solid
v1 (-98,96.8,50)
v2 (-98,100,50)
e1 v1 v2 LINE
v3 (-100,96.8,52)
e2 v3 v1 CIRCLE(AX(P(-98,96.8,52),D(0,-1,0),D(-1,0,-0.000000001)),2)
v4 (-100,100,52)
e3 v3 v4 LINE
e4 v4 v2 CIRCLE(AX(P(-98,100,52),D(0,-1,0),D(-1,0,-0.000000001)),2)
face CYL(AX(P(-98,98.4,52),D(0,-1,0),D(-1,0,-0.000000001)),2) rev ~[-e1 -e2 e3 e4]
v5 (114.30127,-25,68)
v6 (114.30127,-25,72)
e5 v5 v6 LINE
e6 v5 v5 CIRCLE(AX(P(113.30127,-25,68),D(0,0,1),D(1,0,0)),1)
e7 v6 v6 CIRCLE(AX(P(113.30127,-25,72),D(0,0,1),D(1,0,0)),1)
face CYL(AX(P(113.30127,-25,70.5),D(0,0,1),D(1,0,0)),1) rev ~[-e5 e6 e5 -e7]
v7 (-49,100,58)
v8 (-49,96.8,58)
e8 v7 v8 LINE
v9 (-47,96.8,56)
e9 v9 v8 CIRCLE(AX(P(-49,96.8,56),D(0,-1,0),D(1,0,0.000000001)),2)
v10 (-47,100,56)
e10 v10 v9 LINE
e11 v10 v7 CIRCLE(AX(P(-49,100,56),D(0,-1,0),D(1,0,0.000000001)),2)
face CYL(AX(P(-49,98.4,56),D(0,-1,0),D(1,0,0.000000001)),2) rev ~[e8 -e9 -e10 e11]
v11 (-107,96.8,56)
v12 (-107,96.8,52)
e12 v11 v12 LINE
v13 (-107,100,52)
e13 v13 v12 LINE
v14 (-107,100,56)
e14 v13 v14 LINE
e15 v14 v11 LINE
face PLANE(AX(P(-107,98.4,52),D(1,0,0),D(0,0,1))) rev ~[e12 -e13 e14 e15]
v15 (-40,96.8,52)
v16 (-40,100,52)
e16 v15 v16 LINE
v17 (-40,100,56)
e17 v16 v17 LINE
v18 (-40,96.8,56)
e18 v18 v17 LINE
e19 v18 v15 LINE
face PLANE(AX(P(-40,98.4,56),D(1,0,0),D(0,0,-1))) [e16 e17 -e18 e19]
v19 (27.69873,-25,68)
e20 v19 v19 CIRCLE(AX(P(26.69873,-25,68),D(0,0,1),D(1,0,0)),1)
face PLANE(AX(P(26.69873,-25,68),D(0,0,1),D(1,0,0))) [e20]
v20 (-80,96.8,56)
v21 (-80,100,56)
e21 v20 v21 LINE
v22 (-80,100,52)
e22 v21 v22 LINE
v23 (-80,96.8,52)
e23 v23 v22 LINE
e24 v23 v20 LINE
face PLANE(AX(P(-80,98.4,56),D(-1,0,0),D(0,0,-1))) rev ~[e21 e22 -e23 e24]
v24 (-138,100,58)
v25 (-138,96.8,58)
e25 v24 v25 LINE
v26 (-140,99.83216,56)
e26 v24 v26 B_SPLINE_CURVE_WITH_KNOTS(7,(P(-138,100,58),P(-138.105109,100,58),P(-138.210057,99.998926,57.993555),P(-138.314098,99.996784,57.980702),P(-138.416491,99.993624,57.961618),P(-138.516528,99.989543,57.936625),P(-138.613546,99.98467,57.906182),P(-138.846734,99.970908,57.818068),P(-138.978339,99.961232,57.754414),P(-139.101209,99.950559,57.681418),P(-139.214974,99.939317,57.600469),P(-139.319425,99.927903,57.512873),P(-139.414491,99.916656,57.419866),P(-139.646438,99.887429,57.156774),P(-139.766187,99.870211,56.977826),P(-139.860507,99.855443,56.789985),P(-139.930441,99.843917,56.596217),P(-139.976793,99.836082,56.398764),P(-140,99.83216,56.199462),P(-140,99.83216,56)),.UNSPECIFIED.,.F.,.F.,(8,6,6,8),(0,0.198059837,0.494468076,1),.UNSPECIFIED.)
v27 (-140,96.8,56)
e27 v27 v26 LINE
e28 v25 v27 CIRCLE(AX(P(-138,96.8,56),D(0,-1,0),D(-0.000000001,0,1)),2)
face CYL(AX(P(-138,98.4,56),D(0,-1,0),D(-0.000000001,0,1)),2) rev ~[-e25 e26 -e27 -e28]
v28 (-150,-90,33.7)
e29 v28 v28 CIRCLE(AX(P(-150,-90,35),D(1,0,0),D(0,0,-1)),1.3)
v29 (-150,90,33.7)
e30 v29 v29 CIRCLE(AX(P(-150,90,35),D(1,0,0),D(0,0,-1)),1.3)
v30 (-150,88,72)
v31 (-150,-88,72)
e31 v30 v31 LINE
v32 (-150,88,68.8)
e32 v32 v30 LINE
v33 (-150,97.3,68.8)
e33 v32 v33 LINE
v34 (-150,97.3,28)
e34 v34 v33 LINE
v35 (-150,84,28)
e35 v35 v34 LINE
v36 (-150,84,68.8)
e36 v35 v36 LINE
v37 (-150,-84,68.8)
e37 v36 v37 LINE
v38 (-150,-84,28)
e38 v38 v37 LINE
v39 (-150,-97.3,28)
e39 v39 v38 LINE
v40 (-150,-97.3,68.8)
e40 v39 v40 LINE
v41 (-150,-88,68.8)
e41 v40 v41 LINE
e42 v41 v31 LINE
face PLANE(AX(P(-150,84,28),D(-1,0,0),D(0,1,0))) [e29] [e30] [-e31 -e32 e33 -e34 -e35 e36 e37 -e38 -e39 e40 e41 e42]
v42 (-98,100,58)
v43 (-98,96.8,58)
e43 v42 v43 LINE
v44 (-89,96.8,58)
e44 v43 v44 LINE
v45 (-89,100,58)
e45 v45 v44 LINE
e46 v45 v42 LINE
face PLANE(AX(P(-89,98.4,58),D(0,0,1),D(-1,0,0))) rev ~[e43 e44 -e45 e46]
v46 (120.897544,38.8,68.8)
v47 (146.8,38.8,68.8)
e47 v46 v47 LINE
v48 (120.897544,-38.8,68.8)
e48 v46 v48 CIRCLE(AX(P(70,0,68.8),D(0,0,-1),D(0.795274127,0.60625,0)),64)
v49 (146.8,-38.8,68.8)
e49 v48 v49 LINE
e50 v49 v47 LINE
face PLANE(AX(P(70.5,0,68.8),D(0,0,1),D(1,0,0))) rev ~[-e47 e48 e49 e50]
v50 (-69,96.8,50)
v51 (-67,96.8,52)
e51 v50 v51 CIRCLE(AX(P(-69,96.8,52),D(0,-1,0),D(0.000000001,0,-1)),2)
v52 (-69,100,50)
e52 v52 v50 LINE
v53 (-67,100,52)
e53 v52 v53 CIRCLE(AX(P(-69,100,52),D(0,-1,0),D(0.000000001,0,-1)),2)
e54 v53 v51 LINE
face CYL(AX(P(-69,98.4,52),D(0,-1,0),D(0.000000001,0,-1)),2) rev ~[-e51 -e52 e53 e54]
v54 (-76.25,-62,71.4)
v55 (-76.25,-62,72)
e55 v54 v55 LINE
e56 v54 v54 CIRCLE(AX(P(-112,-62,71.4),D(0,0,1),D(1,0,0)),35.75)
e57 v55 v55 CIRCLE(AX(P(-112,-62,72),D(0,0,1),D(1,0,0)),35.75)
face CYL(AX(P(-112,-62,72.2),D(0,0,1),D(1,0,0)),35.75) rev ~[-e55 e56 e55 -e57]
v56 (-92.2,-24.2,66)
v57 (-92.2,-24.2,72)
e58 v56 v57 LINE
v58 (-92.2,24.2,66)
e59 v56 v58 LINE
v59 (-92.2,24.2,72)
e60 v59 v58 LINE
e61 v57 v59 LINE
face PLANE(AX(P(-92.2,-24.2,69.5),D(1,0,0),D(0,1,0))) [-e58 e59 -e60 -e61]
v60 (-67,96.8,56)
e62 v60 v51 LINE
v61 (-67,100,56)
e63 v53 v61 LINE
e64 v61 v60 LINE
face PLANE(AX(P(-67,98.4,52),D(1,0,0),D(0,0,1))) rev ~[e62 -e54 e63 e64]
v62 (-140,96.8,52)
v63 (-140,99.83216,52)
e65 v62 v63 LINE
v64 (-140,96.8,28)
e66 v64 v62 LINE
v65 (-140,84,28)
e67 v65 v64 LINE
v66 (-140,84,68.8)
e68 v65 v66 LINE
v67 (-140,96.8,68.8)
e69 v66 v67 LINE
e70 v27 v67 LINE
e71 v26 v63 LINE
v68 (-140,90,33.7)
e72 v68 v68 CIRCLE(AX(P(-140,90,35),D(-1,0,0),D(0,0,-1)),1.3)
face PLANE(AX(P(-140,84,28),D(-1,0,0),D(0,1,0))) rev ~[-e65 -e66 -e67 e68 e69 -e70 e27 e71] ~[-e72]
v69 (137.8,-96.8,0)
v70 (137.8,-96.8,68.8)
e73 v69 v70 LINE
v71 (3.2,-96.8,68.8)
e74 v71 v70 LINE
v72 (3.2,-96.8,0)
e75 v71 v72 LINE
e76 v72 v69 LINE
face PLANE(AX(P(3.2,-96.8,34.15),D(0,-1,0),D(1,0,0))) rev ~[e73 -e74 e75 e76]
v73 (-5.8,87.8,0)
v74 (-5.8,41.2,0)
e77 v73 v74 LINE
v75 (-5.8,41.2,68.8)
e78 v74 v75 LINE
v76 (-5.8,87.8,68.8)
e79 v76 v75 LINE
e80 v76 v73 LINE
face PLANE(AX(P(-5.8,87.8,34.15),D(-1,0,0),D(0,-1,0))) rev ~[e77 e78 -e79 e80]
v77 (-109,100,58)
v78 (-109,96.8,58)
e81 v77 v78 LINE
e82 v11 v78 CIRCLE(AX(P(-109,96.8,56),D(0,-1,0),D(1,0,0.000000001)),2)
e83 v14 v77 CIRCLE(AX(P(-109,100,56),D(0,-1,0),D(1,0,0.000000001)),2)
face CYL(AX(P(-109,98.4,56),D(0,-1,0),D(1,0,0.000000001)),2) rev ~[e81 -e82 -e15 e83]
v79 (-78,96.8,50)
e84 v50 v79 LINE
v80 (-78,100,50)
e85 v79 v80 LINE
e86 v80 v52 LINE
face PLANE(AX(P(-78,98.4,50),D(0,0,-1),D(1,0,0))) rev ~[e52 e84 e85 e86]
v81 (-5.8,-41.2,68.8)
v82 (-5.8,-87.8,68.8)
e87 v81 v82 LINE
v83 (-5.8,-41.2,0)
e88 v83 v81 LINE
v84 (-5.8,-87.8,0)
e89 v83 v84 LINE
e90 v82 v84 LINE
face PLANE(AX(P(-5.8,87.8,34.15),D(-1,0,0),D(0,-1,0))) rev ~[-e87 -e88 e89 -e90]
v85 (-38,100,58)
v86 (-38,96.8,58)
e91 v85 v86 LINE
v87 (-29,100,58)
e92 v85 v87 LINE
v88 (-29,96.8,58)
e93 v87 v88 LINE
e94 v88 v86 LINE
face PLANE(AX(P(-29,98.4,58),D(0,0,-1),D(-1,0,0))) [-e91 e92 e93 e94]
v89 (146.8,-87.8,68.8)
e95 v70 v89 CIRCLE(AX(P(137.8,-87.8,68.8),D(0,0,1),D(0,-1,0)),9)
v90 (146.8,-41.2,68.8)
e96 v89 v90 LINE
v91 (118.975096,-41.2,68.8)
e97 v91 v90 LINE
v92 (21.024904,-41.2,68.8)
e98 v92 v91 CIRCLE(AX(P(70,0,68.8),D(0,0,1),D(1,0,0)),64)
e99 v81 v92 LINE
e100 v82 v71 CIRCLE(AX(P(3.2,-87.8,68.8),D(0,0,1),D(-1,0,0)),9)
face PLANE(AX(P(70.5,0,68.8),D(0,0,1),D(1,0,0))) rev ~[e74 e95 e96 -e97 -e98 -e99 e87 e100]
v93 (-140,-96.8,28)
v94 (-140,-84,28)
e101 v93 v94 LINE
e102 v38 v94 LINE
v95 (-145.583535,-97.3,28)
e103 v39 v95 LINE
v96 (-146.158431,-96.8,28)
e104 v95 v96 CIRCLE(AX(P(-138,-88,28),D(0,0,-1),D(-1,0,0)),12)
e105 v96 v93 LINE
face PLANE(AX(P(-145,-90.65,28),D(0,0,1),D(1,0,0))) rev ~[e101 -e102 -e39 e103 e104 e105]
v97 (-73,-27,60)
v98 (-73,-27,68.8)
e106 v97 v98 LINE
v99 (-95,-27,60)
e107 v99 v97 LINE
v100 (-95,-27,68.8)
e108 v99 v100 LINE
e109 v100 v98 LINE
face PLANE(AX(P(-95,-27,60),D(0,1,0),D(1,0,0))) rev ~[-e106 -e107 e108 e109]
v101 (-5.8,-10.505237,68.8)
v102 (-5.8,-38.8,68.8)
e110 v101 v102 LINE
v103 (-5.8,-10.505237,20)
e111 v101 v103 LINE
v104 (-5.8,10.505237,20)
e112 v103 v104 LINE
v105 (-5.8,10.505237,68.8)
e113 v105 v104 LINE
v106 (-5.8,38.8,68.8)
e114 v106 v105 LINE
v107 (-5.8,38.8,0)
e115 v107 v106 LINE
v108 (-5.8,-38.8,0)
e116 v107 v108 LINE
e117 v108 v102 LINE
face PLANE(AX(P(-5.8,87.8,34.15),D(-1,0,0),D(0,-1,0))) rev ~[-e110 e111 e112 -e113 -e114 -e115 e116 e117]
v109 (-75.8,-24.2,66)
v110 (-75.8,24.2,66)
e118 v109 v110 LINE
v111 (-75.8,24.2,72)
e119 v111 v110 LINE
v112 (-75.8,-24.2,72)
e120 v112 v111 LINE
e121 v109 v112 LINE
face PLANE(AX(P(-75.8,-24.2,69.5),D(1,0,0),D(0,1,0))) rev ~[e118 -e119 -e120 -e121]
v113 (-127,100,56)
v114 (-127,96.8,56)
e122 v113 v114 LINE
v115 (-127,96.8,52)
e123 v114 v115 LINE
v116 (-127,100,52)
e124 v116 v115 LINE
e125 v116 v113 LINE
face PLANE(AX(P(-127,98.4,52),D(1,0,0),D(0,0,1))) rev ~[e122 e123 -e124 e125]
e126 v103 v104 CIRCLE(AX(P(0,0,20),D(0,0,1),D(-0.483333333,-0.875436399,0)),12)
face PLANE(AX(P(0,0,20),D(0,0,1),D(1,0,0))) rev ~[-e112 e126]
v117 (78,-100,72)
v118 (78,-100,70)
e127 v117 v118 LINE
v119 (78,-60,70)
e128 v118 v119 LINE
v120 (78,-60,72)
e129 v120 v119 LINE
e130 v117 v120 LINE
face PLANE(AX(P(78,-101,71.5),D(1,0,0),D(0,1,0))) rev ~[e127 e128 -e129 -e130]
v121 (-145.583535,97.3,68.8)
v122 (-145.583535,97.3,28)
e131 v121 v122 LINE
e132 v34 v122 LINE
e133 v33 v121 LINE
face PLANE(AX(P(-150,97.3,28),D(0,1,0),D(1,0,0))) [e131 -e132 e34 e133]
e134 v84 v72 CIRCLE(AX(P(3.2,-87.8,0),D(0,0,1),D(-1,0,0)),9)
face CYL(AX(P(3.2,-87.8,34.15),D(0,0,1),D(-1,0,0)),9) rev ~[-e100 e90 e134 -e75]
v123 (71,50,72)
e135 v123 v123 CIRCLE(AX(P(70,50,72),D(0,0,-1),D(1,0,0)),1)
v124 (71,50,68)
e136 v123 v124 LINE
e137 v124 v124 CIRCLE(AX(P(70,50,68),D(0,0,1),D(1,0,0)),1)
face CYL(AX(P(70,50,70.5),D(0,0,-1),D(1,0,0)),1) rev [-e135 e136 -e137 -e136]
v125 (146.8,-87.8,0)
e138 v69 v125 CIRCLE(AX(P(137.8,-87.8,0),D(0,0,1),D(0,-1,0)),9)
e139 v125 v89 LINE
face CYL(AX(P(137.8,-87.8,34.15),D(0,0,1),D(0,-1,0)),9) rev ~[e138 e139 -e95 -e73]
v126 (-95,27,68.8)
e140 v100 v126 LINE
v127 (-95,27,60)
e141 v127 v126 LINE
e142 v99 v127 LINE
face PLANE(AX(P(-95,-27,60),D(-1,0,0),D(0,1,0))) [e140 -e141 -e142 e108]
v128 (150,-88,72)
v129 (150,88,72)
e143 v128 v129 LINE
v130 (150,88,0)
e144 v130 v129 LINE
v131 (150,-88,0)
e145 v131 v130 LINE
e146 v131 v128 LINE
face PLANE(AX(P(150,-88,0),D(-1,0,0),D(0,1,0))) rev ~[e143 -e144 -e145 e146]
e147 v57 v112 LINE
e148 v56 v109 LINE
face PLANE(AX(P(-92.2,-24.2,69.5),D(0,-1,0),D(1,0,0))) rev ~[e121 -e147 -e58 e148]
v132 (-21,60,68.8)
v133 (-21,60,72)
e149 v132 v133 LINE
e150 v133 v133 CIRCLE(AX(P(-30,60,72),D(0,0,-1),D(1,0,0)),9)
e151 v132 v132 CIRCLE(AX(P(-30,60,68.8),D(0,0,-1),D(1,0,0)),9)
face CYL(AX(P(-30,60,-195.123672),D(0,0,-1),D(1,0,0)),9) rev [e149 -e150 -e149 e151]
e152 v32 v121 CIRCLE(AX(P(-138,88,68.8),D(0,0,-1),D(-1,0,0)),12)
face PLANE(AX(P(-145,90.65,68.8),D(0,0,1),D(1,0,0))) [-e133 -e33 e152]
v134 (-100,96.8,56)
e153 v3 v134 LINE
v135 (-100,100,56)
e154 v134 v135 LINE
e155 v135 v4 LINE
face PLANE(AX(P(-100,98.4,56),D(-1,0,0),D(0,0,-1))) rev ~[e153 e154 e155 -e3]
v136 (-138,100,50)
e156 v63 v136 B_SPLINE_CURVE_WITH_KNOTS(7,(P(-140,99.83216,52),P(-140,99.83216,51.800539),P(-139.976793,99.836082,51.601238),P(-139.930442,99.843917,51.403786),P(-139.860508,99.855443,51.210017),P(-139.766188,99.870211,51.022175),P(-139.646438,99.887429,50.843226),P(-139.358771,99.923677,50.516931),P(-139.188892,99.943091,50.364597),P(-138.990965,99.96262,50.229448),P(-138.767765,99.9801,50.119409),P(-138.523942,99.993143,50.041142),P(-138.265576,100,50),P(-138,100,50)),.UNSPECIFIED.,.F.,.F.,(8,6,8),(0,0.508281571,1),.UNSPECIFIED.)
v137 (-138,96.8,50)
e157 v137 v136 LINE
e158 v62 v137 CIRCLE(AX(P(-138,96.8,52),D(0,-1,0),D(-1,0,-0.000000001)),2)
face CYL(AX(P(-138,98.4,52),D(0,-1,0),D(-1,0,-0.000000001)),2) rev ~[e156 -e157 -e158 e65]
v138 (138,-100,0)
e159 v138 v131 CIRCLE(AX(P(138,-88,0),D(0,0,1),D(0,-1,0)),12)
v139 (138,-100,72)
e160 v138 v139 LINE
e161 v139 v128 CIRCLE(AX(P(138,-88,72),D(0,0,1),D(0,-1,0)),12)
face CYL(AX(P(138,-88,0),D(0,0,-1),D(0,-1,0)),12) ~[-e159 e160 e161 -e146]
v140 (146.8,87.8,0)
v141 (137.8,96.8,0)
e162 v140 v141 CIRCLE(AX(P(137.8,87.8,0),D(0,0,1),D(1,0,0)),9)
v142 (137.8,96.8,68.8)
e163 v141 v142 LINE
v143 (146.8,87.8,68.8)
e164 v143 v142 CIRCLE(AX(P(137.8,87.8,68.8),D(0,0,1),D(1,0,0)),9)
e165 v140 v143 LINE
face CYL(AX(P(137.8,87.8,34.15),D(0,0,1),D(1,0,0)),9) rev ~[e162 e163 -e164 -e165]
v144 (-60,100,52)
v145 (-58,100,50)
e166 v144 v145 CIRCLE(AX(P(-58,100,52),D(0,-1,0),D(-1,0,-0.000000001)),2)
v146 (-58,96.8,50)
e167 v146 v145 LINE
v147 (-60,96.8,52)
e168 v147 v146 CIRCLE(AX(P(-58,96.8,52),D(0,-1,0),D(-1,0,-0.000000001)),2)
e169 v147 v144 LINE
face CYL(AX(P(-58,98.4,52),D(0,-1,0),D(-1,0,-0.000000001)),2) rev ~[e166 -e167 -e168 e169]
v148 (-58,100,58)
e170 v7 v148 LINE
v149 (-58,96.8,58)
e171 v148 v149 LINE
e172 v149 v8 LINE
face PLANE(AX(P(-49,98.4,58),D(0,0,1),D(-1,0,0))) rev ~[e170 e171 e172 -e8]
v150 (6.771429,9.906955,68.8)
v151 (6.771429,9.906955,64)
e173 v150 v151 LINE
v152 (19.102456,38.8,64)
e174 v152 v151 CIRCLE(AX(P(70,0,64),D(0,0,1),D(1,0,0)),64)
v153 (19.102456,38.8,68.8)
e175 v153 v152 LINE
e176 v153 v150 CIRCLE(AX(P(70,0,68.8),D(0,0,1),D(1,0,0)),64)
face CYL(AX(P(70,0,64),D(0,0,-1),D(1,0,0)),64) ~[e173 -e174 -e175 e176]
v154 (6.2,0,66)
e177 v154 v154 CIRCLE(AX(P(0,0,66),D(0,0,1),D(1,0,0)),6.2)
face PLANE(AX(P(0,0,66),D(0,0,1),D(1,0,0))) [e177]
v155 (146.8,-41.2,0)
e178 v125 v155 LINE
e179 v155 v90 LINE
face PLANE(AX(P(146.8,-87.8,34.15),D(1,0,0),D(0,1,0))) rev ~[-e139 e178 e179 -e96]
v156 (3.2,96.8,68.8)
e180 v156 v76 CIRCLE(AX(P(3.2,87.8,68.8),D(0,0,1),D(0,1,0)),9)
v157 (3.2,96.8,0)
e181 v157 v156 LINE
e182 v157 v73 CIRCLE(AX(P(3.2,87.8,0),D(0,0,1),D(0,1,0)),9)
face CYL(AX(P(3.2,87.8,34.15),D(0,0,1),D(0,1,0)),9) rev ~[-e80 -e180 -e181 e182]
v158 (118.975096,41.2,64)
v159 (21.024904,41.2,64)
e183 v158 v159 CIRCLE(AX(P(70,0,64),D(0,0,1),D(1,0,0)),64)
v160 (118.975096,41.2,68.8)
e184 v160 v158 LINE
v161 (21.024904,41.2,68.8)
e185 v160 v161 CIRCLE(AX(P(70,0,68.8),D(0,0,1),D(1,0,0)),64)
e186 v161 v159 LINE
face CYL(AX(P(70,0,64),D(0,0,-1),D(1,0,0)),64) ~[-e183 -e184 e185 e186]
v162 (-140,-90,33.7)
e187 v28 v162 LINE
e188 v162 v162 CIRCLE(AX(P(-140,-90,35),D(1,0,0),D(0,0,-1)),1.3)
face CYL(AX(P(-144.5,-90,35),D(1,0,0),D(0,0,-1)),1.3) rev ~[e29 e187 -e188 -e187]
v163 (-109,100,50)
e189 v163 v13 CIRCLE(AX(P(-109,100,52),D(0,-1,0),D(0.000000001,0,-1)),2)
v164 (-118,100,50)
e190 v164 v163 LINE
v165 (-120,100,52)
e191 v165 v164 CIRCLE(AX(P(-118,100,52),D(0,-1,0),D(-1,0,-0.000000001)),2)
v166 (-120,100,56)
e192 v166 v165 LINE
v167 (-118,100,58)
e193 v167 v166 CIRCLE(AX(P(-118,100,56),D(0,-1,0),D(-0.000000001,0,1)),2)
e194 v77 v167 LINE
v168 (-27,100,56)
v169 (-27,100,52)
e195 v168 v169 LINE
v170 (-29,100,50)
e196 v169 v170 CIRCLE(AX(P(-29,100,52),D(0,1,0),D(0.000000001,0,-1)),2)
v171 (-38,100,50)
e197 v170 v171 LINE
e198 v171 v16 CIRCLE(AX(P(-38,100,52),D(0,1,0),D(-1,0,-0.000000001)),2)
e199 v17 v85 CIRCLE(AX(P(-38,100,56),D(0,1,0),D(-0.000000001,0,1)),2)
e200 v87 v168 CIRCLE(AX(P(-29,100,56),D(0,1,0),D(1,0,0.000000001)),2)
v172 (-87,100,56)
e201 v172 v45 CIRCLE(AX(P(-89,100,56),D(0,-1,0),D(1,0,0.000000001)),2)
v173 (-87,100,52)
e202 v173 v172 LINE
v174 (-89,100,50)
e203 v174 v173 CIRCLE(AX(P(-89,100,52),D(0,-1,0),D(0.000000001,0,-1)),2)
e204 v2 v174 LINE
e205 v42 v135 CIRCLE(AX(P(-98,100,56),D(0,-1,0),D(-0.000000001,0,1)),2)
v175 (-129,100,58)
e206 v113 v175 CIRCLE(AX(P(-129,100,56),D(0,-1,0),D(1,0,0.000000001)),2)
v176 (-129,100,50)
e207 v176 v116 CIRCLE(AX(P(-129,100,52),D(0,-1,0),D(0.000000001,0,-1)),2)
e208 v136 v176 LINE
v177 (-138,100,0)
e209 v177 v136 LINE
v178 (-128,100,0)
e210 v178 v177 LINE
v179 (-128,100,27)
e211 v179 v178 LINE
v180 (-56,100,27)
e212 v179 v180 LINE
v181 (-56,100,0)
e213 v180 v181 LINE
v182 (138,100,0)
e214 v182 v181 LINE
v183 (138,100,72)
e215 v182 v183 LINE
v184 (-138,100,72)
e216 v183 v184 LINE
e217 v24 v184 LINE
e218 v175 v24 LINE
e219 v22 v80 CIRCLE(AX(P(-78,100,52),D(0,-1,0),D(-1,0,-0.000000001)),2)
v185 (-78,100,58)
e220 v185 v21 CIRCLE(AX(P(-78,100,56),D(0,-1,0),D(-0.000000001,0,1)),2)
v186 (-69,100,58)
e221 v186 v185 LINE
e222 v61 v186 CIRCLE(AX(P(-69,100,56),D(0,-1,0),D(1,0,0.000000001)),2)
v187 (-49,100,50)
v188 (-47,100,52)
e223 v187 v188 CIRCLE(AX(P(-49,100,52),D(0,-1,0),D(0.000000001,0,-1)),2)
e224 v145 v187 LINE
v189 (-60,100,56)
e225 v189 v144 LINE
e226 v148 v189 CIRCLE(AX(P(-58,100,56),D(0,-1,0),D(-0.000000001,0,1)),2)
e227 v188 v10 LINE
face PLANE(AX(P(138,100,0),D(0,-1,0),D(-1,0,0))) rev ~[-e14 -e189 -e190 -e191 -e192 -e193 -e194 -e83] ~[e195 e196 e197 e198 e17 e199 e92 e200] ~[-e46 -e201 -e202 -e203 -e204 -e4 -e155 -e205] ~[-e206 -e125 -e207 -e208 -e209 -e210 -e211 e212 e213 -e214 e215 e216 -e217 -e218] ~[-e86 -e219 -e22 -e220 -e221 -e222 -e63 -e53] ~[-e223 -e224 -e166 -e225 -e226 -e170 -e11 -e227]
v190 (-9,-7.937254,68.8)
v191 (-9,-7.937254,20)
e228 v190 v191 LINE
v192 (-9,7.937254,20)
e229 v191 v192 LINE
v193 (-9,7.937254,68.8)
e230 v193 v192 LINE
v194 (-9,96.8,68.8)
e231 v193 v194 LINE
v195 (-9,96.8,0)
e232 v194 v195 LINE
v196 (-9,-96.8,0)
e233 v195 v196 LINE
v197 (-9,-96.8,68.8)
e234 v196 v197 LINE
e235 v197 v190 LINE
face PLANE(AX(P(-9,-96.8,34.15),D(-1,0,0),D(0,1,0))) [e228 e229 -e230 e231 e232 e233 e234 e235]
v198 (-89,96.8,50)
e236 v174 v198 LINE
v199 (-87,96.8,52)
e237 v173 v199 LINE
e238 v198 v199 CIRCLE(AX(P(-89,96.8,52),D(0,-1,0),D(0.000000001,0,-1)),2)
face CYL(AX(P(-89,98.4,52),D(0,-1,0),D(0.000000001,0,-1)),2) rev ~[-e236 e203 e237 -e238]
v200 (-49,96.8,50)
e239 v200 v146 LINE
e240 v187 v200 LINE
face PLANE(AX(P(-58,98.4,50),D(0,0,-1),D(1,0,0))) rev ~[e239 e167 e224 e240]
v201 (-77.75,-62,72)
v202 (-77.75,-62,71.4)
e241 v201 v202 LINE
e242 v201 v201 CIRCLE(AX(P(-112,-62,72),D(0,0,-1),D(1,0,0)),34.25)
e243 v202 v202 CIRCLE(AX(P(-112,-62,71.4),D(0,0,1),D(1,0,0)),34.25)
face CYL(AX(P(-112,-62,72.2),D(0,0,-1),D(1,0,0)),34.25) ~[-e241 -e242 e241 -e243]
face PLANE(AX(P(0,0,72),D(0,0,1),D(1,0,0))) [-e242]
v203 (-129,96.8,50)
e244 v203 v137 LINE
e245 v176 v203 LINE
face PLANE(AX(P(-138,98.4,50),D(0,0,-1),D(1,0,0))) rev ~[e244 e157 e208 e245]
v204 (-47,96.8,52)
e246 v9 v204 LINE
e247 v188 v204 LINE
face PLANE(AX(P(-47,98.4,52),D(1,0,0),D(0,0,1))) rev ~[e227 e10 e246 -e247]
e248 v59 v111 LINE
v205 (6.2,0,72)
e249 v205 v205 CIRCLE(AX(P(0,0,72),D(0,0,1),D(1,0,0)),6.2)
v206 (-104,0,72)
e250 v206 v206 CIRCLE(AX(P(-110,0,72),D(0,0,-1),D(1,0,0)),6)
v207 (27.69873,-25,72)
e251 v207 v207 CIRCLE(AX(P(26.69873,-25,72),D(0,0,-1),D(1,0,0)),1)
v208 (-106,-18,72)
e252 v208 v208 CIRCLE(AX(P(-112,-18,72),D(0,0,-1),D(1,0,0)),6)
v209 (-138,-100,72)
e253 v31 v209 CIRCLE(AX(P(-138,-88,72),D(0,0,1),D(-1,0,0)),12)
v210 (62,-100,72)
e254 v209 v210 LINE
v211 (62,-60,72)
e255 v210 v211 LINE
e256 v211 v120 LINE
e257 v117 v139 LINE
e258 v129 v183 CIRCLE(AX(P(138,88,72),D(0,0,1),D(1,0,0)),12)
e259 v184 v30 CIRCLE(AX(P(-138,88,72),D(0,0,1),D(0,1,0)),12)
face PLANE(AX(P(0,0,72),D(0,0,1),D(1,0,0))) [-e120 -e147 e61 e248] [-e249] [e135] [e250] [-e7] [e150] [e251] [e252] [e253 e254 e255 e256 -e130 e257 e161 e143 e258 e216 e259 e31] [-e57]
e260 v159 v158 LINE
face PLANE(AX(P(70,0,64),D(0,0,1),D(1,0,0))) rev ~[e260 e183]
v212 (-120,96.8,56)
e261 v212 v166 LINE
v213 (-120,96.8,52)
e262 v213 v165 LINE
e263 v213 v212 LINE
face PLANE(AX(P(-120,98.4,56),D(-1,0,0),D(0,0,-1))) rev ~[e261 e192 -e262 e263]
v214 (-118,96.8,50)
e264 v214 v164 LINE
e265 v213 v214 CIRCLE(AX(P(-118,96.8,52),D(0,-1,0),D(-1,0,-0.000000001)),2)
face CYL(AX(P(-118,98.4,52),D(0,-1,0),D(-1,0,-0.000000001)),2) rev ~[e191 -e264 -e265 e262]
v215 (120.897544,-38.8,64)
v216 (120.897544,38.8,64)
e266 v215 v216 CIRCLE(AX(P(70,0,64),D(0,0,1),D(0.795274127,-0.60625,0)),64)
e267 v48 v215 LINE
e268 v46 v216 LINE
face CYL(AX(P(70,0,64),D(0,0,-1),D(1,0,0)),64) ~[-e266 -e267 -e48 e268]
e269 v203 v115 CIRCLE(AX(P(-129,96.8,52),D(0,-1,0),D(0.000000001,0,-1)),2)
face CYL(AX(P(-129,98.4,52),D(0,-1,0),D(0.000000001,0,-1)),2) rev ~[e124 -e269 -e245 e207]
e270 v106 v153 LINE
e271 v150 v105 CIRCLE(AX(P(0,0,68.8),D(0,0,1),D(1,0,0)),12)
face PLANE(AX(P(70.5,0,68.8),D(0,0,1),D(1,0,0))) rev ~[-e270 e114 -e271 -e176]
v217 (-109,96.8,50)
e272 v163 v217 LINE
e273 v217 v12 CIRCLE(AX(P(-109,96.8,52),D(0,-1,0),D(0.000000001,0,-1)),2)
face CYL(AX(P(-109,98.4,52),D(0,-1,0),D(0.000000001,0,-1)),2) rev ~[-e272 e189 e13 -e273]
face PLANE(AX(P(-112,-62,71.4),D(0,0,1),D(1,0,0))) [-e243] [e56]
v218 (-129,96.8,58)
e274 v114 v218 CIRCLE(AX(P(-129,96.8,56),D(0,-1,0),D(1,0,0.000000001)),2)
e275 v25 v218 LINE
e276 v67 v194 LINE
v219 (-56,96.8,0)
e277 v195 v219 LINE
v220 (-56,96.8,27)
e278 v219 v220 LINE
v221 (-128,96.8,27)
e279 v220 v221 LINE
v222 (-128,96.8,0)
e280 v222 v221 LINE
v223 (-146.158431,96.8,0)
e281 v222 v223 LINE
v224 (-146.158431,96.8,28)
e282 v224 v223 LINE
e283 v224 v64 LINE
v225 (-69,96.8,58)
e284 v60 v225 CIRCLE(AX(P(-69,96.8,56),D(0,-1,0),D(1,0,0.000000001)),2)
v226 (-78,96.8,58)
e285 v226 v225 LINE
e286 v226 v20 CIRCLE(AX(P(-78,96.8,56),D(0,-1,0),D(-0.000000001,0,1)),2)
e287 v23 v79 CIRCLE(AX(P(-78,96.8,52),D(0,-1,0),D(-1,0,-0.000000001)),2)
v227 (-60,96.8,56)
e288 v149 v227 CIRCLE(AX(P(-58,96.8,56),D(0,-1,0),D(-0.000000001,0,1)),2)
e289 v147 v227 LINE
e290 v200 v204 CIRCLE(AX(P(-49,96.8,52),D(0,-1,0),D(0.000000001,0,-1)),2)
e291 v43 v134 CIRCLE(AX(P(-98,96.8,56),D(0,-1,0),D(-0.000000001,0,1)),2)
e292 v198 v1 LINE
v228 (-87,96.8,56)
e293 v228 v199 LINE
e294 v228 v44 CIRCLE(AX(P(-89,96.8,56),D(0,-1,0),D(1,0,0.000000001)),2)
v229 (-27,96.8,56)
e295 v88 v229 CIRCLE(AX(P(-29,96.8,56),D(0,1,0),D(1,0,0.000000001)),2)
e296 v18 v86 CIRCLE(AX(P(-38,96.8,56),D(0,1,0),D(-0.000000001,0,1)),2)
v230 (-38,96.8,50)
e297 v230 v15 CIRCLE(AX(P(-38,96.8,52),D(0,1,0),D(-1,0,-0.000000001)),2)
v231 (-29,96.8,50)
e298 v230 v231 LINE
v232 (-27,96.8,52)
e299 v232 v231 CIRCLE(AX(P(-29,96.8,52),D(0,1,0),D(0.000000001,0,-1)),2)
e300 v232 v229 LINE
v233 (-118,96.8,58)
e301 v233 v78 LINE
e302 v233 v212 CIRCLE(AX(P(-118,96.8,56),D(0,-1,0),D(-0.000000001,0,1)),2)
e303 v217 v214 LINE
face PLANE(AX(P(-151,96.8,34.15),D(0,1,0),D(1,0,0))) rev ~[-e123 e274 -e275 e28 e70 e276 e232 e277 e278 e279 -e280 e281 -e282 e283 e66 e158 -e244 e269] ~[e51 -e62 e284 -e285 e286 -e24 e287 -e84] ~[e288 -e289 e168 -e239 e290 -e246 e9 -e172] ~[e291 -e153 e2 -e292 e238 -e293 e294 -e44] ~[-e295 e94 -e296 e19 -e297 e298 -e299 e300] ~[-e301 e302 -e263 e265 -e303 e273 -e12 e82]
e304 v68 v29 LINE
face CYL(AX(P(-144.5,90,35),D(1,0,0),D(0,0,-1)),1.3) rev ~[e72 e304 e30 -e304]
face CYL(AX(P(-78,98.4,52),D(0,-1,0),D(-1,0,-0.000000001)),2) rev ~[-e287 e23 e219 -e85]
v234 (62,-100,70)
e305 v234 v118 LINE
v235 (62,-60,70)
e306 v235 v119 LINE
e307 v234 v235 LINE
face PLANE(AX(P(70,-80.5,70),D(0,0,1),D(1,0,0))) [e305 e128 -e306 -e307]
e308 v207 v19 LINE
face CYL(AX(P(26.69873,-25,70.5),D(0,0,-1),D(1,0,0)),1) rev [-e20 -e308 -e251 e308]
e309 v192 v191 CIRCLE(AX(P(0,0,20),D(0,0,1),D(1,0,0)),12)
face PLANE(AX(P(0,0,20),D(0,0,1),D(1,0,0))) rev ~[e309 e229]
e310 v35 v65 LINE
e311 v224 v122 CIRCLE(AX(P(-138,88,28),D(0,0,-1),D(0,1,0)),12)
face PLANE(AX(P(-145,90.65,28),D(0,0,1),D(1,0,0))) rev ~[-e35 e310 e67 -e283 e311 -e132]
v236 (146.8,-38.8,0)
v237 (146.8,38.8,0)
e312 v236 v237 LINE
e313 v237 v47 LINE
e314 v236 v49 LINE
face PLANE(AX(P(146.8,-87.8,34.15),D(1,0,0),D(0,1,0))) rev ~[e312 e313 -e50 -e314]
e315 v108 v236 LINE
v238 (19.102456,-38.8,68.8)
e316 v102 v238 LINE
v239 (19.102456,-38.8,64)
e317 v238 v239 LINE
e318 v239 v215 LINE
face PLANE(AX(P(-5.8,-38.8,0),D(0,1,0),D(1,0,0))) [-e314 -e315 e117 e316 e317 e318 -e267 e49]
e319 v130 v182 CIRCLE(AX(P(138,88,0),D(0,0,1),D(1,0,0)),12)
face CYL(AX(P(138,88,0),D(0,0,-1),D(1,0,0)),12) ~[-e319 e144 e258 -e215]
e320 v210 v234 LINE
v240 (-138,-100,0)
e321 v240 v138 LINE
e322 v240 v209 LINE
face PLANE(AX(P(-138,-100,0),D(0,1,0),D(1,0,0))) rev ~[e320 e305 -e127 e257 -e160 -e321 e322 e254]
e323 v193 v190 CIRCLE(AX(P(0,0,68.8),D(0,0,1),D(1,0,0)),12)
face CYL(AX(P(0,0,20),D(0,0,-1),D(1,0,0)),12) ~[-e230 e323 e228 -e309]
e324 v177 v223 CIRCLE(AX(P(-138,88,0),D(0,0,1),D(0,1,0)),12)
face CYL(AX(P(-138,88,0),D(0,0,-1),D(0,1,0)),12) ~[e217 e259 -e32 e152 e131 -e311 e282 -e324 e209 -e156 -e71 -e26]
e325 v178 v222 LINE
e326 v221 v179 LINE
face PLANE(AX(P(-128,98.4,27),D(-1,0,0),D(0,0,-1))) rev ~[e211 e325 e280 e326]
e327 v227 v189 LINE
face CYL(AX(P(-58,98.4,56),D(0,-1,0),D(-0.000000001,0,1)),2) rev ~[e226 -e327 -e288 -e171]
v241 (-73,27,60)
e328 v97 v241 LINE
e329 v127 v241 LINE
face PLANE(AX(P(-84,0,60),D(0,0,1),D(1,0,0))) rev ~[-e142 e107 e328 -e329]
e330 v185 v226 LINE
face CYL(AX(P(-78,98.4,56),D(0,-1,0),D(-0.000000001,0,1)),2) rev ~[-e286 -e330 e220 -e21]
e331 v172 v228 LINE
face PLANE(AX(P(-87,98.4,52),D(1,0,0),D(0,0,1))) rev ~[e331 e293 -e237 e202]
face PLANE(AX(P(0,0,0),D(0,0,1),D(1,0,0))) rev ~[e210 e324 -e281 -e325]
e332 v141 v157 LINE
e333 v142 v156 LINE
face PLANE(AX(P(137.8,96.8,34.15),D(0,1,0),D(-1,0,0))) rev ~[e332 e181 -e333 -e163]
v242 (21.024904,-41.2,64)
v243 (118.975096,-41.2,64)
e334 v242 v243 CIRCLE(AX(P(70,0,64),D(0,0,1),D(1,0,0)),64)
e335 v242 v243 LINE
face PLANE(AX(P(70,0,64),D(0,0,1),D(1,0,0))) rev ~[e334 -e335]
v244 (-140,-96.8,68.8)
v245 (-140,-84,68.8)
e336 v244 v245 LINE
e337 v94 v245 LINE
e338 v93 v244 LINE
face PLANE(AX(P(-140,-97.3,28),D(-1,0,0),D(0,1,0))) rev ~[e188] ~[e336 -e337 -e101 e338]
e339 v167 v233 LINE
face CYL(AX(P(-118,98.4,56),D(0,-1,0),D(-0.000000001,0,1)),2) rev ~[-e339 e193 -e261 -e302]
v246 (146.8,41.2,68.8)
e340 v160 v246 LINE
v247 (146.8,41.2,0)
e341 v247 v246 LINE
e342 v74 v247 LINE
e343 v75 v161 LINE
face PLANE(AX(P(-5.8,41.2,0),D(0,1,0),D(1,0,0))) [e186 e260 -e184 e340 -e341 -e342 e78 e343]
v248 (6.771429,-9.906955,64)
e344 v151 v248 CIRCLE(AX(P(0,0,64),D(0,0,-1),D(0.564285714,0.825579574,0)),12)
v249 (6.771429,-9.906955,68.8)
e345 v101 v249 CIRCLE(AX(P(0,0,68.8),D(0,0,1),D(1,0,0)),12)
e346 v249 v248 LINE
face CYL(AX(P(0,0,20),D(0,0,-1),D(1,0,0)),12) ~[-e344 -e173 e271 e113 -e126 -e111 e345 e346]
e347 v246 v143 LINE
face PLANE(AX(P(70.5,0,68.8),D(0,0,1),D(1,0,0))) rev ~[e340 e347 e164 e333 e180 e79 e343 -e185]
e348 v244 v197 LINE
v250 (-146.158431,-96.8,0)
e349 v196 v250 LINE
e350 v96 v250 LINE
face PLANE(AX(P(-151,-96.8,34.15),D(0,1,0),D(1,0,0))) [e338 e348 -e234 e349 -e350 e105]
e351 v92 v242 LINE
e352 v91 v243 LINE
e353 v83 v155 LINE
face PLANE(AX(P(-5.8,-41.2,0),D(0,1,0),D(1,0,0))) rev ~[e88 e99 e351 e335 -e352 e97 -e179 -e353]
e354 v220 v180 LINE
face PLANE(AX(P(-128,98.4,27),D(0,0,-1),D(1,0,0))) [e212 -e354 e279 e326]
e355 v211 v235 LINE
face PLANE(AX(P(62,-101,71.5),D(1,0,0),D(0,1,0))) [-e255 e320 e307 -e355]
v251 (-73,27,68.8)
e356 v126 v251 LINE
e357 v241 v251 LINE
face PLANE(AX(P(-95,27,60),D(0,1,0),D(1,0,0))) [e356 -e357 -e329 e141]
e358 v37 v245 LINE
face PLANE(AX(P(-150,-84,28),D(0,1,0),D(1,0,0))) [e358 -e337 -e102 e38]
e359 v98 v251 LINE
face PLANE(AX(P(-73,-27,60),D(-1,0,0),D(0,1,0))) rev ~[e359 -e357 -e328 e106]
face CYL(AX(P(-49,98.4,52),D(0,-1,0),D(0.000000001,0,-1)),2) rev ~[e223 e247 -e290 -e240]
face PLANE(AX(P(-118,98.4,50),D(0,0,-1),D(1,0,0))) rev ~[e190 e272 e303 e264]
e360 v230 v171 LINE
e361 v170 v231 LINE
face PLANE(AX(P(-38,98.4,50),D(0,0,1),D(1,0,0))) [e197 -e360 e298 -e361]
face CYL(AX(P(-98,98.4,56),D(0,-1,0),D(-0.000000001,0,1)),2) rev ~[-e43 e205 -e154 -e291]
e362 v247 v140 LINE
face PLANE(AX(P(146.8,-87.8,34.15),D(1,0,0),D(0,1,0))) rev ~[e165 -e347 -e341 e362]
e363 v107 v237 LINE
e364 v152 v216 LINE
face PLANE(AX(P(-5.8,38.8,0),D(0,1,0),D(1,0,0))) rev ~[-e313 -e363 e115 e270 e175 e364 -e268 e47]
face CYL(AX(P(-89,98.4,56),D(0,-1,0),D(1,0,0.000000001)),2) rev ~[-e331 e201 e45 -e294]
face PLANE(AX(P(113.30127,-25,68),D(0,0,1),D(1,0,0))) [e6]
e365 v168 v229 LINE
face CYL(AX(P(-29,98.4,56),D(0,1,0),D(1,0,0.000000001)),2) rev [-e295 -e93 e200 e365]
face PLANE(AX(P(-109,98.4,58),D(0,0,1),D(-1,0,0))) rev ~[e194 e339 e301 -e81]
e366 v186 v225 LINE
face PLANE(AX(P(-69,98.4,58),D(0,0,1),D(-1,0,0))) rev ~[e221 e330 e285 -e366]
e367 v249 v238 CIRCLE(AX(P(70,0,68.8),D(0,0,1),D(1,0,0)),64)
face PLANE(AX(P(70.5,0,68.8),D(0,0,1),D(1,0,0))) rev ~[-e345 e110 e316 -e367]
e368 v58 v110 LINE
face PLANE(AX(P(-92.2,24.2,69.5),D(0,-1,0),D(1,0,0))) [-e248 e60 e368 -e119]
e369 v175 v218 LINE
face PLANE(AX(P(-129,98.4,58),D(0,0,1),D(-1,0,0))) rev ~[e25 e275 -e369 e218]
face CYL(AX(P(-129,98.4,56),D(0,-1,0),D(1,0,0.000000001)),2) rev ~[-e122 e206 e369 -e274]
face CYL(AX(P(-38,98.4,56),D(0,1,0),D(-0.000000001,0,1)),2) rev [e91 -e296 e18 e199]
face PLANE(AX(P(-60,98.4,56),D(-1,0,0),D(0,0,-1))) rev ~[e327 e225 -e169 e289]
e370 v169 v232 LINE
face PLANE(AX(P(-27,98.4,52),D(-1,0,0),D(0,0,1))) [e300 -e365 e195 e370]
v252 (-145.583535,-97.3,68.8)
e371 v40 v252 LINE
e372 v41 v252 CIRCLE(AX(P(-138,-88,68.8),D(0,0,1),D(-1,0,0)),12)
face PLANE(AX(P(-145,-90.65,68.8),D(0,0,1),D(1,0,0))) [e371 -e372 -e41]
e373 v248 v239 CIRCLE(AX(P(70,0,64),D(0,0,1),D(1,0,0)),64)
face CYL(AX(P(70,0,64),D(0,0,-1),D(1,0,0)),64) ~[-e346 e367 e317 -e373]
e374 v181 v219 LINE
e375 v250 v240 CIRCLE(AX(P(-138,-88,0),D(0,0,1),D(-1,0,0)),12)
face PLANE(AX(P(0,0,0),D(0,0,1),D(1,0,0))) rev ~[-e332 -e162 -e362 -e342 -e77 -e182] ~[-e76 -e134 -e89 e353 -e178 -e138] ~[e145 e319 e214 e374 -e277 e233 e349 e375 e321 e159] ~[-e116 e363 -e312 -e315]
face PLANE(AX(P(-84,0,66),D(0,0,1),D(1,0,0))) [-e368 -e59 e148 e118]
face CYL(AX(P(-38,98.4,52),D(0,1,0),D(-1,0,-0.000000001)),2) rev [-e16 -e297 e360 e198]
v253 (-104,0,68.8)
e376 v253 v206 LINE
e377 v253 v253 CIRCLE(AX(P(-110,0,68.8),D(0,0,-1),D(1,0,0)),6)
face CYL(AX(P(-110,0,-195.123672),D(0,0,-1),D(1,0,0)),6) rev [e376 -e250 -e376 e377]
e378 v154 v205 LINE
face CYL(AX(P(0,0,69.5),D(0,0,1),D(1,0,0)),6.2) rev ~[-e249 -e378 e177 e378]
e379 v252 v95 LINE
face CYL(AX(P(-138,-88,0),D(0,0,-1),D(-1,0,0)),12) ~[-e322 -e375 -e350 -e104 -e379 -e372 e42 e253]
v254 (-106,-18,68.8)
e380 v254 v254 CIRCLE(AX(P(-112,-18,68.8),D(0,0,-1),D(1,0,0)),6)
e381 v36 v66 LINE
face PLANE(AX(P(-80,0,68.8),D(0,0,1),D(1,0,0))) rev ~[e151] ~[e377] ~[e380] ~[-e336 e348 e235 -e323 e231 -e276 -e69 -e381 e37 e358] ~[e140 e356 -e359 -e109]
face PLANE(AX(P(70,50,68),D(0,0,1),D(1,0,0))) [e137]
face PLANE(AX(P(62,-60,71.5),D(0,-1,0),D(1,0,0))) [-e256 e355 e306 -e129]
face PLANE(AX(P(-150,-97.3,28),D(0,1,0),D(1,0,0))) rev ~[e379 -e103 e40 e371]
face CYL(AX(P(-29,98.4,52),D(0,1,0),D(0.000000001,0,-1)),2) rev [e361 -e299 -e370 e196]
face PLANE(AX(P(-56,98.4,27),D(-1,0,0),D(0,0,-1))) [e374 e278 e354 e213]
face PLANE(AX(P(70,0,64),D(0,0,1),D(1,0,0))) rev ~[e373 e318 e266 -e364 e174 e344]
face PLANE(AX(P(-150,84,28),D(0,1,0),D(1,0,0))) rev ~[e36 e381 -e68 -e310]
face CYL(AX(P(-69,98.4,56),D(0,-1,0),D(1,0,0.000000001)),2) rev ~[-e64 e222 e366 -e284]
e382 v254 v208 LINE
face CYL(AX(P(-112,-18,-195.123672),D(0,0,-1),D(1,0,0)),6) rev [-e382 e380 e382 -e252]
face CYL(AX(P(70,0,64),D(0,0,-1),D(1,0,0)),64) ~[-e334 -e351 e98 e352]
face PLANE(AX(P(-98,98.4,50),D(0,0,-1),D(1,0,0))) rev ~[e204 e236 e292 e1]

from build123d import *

# Parameters (mm, degrees)
PLINTH_BLOCK_DEPTH                  = 72
SKETCH2_W                           = 142
SKETCH2_H                           = 193.6
HOLLOW_BAY_AND_FRONT_VOID_DEPTH     = 34.65
SKETCH3_W                           = 152.6
SKETCH3_H                           = 2.4
DISH_SUPPORT_RIBS_DEPTH             = 68.8
SKETCH4_R                           = 64
DISH_FLOOR_THICKENING_DEPTH         = 4.8
SKETCH5_R                           = 12
ROD_SOCKET_BOSS_DEPTH               = 48.8
SKETCH6_W                           = 22
SKETCH6_H                           = 54
MORTISE_BLOCK_DEPTH                 = 8.8
SKETCH7_W                           = 10
SKETCH7_H                           = 13.3
END_PANEL_SCREW_BOSSES_DEPTH        = 40.8
SKETCH8_R                           = 6.2
ROD_SOCKET_DEPTH                    = 3.5
SKETCH9_W                           = 16.4
SKETCH9_H                           = 48.4
COLUMN_MORTISE_DEPTH                = 3.5
SKETCH10_R                          = 1
SEAT_PIN_HOLES_DEPTH                = 2.5
SKETCH11_W                          = 16
SKETCH11_H                          = 41
SPILL_DRAIN_CHANNEL_DEPTH           = 1.5
SKETCH12_R                          = 35.75
SKETCH12_R_2                        = 34.25
BOTTLE_POSITION_MARKER_GROOVE_DEPTH = 0.8
CABLE_GROMMET_HOLES_DEPTH           = 195.123671921
CABLE_GROMMET_HOLES_DEPTH_BACK      = 195.123671921
SKETCH13_R                          = 9
SKETCH13_R_2                        = 6
SKETCH14_W                          = 72
SKETCH14_H                          = 28
PI_SIDE_PORT_NOTCH_AND_VENTS_DEPTH  = 2.6
SKETCH15_R                          = 1.3
END_PANEL_SCREW_HOLES_DEPTH         = 6.5


with BuildPart() as part:
    # Sketch1 → Plinth_block (new body)
    with BuildSketch(Plane.XY):
        with BuildLine():
            Line((-138, -100), (138, -100))
            ThreePointArc((138, -100), (146.485281374, -96.485281374), (150, -88))
            Line((150, -88), (150, 88))
            ThreePointArc((150, 88), (146.485281374, 96.485281374), (138, 100))
            Line((138, 100), (-138, 100))
            ThreePointArc((-138, 100), (-146.485281374, 96.485281374), (-150, 88))
            Line((-150, 88), (-150, -88))
            ThreePointArc((-150, -88), (-146.485281374, -96.485281374), (-138, -100))
        make_face()
    extrude(amount=PLINTH_BLOCK_DEPTH)

    # Sketch2 → Hollow_bay_and_front_void (cut, symmetric)
    with BuildSketch(Plane.XY.offset(34.15)):
        with Locations((-80, 0)):
            Rectangle(SKETCH2_W, SKETCH2_H)
        with BuildLine():
            Line((3.2, -96.8), (137.8, -96.8))
            ThreePointArc((137.8, -96.8), (144.163961031, -94.163961031), (146.8, -87.8))
            Line((146.8, -87.8), (146.8, 87.8))
            ThreePointArc((146.8, 87.8), (144.163961031, 94.163961031), (137.8, 96.8))
            Line((137.8, 96.8), (3.2, 96.8))
            ThreePointArc((3.2, 96.8), (-3.163961031, 94.163961031), (-5.8, 87.8))
            Line((-5.8, 87.8), (-5.8, -87.8))
            ThreePointArc((-5.8, -87.8), (-3.163961031, -94.163961031), (3.2, -96.8))
        make_face()
    extrude(amount=HOLLOW_BAY_AND_FRONT_VOID_DEPTH, both=True, mode=Mode.SUBTRACT)

    # Sketch3 → Dish_support_ribs (add)
    with BuildSketch(Plane.XY):
        with Locations((70.5, 40)):
            Rectangle(SKETCH3_W, SKETCH3_H)
        with Locations((70.5, -40)):
            Rectangle(SKETCH3_W, SKETCH3_H)
    extrude(amount=DISH_SUPPORT_RIBS_DEPTH)

    # Sketch4 → Dish_floor_thickening (add)
    with BuildSketch(Plane.XY.offset(64)):
        with Locations((70, 0)):
            Circle(SKETCH4_R)
    extrude(amount=DISH_FLOOR_THICKENING_DEPTH)

    # Sketch5 → Rod_socket_boss (add)
    with BuildSketch(Plane.XY.offset(20)):
        Circle(SKETCH5_R)
    extrude(amount=ROD_SOCKET_BOSS_DEPTH)

    # Sketch6 → Mortise_block (add)
    with BuildSketch(Plane.XY.offset(60)):
        with Locations((-84, 0)):
            Rectangle(SKETCH6_W, SKETCH6_H)
    extrude(amount=MORTISE_BLOCK_DEPTH)

    # Sketch7 → End_panel_screw_bosses (add)
    with BuildSketch(Plane.XY.offset(28)):
        with Locations((-145, 90.65)):
            Rectangle(SKETCH7_W, SKETCH7_H)
        with Locations((-145, -90.65)):
            Rectangle(SKETCH7_W, SKETCH7_H)
    extrude(amount=END_PANEL_SCREW_BOSSES_DEPTH)

    # Sketch8 → Rod_socket (cut, symmetric)
    with BuildSketch(Plane.XY.offset(69.5)):
        Circle(SKETCH8_R)
    extrude(amount=ROD_SOCKET_DEPTH, both=True, mode=Mode.SUBTRACT)

    # Sketch9 → Column_mortise (cut, symmetric)
    with BuildSketch(Plane.XY.offset(69.5)):
        with Locations((-84, 0)):
            Rectangle(SKETCH9_W, SKETCH9_H)
    extrude(amount=COLUMN_MORTISE_DEPTH, both=True, mode=Mode.SUBTRACT)

    # Sketch10 → Seat_pin_holes (cut, symmetric)
    with BuildSketch(Plane.XY.offset(70.5)):
        with Locations((70, 50)):
            Circle(SKETCH10_R)
        with Locations((26.698729811, -25)):
            Circle(SKETCH10_R)
        with Locations((113.301270189, -25)):
            Circle(SKETCH10_R)
    extrude(amount=SEAT_PIN_HOLES_DEPTH, both=True, mode=Mode.SUBTRACT)

    # Sketch11 → Spill_drain_channel (cut, symmetric)
    with BuildSketch(Plane.XY.offset(71.5)):
        with Locations((70, -80.5)):
            Rectangle(SKETCH11_W, SKETCH11_H)
    extrude(amount=SPILL_DRAIN_CHANNEL_DEPTH, both=True, mode=Mode.SUBTRACT)

    # Sketch12 → Bottle_position_marker_groove (cut, symmetric)
    with BuildSketch(Plane.XY.offset(72.2)):
        with Locations((-112, -62)):
            Circle(SKETCH12_R)
        with Locations((-112, -62)):
            Circle(SKETCH12_R_2, mode=Mode.SUBTRACT)
    extrude(amount=BOTTLE_POSITION_MARKER_GROOVE_DEPTH, both=True, mode=Mode.SUBTRACT)

    # Sketch13 → Cable_grommet_holes (cut, two sides: drawn at the far end of the back side and taken through both)
    with BuildSketch(Plane.XY.offset(-CABLE_GROMMET_HOLES_DEPTH_BACK)):
        with Locations((-30, 60)):
            Circle(SKETCH13_R)
        with Locations((-110, 0)):
            Circle(SKETCH13_R_2)
        with Locations((-112, -18)):
            Circle(SKETCH13_R_2)
    extrude(amount=CABLE_GROMMET_HOLES_DEPTH + CABLE_GROMMET_HOLES_DEPTH_BACK, mode=Mode.SUBTRACT)

    # Sketch14 → Pi_side_port_notch_and_vents (cut, symmetric)
    with BuildSketch(Plane(origin=(0, 98.4, 0), x_dir=(1, 0, 0), z_dir=(0, 1, 0))):
        with Locations((-92, -13)):
            Rectangle(SKETCH14_W, SKETCH14_H)
        with BuildLine():
            Line((-138, -50), (-129, -50))
            ThreePointArc((-129, -50), (-127.585786438, -50.585786438), (-127, -52))
            Line((-127, -52), (-127, -56))
            ThreePointArc((-127, -56), (-127.585786438, -57.414213562), (-129, -58))
            Line((-129, -58), (-138, -58))
            ThreePointArc((-138, -58), (-139.414213562, -57.414213562), (-140, -56))
            Line((-140, -56), (-140, -52))
            ThreePointArc((-140, -52), (-139.414213562, -50.585786438), (-138, -50))
        make_face()
        with BuildLine():
            Line((-118, -50), (-109, -50))
            ThreePointArc((-109, -50), (-107.585786438, -50.585786438), (-107, -52))
            Line((-107, -52), (-107, -56))
            ThreePointArc((-107, -56), (-107.585786438, -57.414213562), (-109, -58))
            Line((-109, -58), (-118, -58))
            ThreePointArc((-118, -58), (-119.414213562, -57.414213562), (-120, -56))
            Line((-120, -56), (-120, -52))
            ThreePointArc((-120, -52), (-119.414213562, -50.585786438), (-118, -50))
        make_face()
        with BuildLine():
            Line((-98, -50), (-89, -50))
            ThreePointArc((-89, -50), (-87.585786438, -50.585786438), (-87, -52))
            Line((-87, -52), (-87, -56))
            ThreePointArc((-87, -56), (-87.585786438, -57.414213562), (-89, -58))
            Line((-89, -58), (-98, -58))
            ThreePointArc((-98, -58), (-99.414213562, -57.414213562), (-100, -56))
            Line((-100, -56), (-100, -52))
            ThreePointArc((-100, -52), (-99.414213562, -50.585786438), (-98, -50))
        make_face()
        with BuildLine():
            Line((-78, -50), (-69, -50))
            ThreePointArc((-69, -50), (-67.585786438, -50.585786438), (-67, -52))
            Line((-67, -52), (-67, -56))
            ThreePointArc((-67, -56), (-67.585786438, -57.414213562), (-69, -58))
            Line((-69, -58), (-78, -58))
            ThreePointArc((-78, -58), (-79.414213562, -57.414213562), (-80, -56))
            Line((-80, -56), (-80, -52))
            ThreePointArc((-80, -52), (-79.414213562, -50.585786438), (-78, -50))
        make_face()
        with BuildLine():
            Line((-58, -50), (-49, -50))
            ThreePointArc((-49, -50), (-47.585786438, -50.585786438), (-47, -52))
            Line((-47, -52), (-47, -56))
            ThreePointArc((-47, -56), (-47.585786438, -57.414213562), (-49, -58))
            Line((-49, -58), (-58, -58))
            ThreePointArc((-58, -58), (-59.414213562, -57.414213562), (-60, -56))
            Line((-60, -56), (-60, -52))
            ThreePointArc((-60, -52), (-59.414213562, -50.585786438), (-58, -50))
        make_face()
        with BuildLine():
            Line((-38, -50), (-29, -50))
            ThreePointArc((-29, -50), (-27.585786438, -50.585786438), (-27, -52))
            Line((-27, -52), (-27, -56))
            ThreePointArc((-27, -56), (-27.585786438, -57.414213562), (-29, -58))
            Line((-29, -58), (-38, -58))
            ThreePointArc((-38, -58), (-39.414213562, -57.414213562), (-40, -56))
            Line((-40, -56), (-40, -52))
            ThreePointArc((-40, -52), (-39.414213562, -50.585786438), (-38, -50))
        make_face()
    extrude(amount=PI_SIDE_PORT_NOTCH_AND_VENTS_DEPTH, both=True, mode=Mode.SUBTRACT)

    # Sketch15 → End_panel_screw_holes (cut, symmetric)
    with BuildSketch(Plane(origin=(-144.5, 0, 0), x_dir=(0, 0, -1), z_dir=(1, 0, 0))):
        with Locations((-35, 90)):
            Circle(SKETCH15_R)
        with Locations((-35, -90)):
            Circle(SKETCH15_R)
    extrude(amount=END_PANEL_SCREW_HOLES_DEPTH, both=True, mode=Mode.SUBTRACT)


solid = part.part
